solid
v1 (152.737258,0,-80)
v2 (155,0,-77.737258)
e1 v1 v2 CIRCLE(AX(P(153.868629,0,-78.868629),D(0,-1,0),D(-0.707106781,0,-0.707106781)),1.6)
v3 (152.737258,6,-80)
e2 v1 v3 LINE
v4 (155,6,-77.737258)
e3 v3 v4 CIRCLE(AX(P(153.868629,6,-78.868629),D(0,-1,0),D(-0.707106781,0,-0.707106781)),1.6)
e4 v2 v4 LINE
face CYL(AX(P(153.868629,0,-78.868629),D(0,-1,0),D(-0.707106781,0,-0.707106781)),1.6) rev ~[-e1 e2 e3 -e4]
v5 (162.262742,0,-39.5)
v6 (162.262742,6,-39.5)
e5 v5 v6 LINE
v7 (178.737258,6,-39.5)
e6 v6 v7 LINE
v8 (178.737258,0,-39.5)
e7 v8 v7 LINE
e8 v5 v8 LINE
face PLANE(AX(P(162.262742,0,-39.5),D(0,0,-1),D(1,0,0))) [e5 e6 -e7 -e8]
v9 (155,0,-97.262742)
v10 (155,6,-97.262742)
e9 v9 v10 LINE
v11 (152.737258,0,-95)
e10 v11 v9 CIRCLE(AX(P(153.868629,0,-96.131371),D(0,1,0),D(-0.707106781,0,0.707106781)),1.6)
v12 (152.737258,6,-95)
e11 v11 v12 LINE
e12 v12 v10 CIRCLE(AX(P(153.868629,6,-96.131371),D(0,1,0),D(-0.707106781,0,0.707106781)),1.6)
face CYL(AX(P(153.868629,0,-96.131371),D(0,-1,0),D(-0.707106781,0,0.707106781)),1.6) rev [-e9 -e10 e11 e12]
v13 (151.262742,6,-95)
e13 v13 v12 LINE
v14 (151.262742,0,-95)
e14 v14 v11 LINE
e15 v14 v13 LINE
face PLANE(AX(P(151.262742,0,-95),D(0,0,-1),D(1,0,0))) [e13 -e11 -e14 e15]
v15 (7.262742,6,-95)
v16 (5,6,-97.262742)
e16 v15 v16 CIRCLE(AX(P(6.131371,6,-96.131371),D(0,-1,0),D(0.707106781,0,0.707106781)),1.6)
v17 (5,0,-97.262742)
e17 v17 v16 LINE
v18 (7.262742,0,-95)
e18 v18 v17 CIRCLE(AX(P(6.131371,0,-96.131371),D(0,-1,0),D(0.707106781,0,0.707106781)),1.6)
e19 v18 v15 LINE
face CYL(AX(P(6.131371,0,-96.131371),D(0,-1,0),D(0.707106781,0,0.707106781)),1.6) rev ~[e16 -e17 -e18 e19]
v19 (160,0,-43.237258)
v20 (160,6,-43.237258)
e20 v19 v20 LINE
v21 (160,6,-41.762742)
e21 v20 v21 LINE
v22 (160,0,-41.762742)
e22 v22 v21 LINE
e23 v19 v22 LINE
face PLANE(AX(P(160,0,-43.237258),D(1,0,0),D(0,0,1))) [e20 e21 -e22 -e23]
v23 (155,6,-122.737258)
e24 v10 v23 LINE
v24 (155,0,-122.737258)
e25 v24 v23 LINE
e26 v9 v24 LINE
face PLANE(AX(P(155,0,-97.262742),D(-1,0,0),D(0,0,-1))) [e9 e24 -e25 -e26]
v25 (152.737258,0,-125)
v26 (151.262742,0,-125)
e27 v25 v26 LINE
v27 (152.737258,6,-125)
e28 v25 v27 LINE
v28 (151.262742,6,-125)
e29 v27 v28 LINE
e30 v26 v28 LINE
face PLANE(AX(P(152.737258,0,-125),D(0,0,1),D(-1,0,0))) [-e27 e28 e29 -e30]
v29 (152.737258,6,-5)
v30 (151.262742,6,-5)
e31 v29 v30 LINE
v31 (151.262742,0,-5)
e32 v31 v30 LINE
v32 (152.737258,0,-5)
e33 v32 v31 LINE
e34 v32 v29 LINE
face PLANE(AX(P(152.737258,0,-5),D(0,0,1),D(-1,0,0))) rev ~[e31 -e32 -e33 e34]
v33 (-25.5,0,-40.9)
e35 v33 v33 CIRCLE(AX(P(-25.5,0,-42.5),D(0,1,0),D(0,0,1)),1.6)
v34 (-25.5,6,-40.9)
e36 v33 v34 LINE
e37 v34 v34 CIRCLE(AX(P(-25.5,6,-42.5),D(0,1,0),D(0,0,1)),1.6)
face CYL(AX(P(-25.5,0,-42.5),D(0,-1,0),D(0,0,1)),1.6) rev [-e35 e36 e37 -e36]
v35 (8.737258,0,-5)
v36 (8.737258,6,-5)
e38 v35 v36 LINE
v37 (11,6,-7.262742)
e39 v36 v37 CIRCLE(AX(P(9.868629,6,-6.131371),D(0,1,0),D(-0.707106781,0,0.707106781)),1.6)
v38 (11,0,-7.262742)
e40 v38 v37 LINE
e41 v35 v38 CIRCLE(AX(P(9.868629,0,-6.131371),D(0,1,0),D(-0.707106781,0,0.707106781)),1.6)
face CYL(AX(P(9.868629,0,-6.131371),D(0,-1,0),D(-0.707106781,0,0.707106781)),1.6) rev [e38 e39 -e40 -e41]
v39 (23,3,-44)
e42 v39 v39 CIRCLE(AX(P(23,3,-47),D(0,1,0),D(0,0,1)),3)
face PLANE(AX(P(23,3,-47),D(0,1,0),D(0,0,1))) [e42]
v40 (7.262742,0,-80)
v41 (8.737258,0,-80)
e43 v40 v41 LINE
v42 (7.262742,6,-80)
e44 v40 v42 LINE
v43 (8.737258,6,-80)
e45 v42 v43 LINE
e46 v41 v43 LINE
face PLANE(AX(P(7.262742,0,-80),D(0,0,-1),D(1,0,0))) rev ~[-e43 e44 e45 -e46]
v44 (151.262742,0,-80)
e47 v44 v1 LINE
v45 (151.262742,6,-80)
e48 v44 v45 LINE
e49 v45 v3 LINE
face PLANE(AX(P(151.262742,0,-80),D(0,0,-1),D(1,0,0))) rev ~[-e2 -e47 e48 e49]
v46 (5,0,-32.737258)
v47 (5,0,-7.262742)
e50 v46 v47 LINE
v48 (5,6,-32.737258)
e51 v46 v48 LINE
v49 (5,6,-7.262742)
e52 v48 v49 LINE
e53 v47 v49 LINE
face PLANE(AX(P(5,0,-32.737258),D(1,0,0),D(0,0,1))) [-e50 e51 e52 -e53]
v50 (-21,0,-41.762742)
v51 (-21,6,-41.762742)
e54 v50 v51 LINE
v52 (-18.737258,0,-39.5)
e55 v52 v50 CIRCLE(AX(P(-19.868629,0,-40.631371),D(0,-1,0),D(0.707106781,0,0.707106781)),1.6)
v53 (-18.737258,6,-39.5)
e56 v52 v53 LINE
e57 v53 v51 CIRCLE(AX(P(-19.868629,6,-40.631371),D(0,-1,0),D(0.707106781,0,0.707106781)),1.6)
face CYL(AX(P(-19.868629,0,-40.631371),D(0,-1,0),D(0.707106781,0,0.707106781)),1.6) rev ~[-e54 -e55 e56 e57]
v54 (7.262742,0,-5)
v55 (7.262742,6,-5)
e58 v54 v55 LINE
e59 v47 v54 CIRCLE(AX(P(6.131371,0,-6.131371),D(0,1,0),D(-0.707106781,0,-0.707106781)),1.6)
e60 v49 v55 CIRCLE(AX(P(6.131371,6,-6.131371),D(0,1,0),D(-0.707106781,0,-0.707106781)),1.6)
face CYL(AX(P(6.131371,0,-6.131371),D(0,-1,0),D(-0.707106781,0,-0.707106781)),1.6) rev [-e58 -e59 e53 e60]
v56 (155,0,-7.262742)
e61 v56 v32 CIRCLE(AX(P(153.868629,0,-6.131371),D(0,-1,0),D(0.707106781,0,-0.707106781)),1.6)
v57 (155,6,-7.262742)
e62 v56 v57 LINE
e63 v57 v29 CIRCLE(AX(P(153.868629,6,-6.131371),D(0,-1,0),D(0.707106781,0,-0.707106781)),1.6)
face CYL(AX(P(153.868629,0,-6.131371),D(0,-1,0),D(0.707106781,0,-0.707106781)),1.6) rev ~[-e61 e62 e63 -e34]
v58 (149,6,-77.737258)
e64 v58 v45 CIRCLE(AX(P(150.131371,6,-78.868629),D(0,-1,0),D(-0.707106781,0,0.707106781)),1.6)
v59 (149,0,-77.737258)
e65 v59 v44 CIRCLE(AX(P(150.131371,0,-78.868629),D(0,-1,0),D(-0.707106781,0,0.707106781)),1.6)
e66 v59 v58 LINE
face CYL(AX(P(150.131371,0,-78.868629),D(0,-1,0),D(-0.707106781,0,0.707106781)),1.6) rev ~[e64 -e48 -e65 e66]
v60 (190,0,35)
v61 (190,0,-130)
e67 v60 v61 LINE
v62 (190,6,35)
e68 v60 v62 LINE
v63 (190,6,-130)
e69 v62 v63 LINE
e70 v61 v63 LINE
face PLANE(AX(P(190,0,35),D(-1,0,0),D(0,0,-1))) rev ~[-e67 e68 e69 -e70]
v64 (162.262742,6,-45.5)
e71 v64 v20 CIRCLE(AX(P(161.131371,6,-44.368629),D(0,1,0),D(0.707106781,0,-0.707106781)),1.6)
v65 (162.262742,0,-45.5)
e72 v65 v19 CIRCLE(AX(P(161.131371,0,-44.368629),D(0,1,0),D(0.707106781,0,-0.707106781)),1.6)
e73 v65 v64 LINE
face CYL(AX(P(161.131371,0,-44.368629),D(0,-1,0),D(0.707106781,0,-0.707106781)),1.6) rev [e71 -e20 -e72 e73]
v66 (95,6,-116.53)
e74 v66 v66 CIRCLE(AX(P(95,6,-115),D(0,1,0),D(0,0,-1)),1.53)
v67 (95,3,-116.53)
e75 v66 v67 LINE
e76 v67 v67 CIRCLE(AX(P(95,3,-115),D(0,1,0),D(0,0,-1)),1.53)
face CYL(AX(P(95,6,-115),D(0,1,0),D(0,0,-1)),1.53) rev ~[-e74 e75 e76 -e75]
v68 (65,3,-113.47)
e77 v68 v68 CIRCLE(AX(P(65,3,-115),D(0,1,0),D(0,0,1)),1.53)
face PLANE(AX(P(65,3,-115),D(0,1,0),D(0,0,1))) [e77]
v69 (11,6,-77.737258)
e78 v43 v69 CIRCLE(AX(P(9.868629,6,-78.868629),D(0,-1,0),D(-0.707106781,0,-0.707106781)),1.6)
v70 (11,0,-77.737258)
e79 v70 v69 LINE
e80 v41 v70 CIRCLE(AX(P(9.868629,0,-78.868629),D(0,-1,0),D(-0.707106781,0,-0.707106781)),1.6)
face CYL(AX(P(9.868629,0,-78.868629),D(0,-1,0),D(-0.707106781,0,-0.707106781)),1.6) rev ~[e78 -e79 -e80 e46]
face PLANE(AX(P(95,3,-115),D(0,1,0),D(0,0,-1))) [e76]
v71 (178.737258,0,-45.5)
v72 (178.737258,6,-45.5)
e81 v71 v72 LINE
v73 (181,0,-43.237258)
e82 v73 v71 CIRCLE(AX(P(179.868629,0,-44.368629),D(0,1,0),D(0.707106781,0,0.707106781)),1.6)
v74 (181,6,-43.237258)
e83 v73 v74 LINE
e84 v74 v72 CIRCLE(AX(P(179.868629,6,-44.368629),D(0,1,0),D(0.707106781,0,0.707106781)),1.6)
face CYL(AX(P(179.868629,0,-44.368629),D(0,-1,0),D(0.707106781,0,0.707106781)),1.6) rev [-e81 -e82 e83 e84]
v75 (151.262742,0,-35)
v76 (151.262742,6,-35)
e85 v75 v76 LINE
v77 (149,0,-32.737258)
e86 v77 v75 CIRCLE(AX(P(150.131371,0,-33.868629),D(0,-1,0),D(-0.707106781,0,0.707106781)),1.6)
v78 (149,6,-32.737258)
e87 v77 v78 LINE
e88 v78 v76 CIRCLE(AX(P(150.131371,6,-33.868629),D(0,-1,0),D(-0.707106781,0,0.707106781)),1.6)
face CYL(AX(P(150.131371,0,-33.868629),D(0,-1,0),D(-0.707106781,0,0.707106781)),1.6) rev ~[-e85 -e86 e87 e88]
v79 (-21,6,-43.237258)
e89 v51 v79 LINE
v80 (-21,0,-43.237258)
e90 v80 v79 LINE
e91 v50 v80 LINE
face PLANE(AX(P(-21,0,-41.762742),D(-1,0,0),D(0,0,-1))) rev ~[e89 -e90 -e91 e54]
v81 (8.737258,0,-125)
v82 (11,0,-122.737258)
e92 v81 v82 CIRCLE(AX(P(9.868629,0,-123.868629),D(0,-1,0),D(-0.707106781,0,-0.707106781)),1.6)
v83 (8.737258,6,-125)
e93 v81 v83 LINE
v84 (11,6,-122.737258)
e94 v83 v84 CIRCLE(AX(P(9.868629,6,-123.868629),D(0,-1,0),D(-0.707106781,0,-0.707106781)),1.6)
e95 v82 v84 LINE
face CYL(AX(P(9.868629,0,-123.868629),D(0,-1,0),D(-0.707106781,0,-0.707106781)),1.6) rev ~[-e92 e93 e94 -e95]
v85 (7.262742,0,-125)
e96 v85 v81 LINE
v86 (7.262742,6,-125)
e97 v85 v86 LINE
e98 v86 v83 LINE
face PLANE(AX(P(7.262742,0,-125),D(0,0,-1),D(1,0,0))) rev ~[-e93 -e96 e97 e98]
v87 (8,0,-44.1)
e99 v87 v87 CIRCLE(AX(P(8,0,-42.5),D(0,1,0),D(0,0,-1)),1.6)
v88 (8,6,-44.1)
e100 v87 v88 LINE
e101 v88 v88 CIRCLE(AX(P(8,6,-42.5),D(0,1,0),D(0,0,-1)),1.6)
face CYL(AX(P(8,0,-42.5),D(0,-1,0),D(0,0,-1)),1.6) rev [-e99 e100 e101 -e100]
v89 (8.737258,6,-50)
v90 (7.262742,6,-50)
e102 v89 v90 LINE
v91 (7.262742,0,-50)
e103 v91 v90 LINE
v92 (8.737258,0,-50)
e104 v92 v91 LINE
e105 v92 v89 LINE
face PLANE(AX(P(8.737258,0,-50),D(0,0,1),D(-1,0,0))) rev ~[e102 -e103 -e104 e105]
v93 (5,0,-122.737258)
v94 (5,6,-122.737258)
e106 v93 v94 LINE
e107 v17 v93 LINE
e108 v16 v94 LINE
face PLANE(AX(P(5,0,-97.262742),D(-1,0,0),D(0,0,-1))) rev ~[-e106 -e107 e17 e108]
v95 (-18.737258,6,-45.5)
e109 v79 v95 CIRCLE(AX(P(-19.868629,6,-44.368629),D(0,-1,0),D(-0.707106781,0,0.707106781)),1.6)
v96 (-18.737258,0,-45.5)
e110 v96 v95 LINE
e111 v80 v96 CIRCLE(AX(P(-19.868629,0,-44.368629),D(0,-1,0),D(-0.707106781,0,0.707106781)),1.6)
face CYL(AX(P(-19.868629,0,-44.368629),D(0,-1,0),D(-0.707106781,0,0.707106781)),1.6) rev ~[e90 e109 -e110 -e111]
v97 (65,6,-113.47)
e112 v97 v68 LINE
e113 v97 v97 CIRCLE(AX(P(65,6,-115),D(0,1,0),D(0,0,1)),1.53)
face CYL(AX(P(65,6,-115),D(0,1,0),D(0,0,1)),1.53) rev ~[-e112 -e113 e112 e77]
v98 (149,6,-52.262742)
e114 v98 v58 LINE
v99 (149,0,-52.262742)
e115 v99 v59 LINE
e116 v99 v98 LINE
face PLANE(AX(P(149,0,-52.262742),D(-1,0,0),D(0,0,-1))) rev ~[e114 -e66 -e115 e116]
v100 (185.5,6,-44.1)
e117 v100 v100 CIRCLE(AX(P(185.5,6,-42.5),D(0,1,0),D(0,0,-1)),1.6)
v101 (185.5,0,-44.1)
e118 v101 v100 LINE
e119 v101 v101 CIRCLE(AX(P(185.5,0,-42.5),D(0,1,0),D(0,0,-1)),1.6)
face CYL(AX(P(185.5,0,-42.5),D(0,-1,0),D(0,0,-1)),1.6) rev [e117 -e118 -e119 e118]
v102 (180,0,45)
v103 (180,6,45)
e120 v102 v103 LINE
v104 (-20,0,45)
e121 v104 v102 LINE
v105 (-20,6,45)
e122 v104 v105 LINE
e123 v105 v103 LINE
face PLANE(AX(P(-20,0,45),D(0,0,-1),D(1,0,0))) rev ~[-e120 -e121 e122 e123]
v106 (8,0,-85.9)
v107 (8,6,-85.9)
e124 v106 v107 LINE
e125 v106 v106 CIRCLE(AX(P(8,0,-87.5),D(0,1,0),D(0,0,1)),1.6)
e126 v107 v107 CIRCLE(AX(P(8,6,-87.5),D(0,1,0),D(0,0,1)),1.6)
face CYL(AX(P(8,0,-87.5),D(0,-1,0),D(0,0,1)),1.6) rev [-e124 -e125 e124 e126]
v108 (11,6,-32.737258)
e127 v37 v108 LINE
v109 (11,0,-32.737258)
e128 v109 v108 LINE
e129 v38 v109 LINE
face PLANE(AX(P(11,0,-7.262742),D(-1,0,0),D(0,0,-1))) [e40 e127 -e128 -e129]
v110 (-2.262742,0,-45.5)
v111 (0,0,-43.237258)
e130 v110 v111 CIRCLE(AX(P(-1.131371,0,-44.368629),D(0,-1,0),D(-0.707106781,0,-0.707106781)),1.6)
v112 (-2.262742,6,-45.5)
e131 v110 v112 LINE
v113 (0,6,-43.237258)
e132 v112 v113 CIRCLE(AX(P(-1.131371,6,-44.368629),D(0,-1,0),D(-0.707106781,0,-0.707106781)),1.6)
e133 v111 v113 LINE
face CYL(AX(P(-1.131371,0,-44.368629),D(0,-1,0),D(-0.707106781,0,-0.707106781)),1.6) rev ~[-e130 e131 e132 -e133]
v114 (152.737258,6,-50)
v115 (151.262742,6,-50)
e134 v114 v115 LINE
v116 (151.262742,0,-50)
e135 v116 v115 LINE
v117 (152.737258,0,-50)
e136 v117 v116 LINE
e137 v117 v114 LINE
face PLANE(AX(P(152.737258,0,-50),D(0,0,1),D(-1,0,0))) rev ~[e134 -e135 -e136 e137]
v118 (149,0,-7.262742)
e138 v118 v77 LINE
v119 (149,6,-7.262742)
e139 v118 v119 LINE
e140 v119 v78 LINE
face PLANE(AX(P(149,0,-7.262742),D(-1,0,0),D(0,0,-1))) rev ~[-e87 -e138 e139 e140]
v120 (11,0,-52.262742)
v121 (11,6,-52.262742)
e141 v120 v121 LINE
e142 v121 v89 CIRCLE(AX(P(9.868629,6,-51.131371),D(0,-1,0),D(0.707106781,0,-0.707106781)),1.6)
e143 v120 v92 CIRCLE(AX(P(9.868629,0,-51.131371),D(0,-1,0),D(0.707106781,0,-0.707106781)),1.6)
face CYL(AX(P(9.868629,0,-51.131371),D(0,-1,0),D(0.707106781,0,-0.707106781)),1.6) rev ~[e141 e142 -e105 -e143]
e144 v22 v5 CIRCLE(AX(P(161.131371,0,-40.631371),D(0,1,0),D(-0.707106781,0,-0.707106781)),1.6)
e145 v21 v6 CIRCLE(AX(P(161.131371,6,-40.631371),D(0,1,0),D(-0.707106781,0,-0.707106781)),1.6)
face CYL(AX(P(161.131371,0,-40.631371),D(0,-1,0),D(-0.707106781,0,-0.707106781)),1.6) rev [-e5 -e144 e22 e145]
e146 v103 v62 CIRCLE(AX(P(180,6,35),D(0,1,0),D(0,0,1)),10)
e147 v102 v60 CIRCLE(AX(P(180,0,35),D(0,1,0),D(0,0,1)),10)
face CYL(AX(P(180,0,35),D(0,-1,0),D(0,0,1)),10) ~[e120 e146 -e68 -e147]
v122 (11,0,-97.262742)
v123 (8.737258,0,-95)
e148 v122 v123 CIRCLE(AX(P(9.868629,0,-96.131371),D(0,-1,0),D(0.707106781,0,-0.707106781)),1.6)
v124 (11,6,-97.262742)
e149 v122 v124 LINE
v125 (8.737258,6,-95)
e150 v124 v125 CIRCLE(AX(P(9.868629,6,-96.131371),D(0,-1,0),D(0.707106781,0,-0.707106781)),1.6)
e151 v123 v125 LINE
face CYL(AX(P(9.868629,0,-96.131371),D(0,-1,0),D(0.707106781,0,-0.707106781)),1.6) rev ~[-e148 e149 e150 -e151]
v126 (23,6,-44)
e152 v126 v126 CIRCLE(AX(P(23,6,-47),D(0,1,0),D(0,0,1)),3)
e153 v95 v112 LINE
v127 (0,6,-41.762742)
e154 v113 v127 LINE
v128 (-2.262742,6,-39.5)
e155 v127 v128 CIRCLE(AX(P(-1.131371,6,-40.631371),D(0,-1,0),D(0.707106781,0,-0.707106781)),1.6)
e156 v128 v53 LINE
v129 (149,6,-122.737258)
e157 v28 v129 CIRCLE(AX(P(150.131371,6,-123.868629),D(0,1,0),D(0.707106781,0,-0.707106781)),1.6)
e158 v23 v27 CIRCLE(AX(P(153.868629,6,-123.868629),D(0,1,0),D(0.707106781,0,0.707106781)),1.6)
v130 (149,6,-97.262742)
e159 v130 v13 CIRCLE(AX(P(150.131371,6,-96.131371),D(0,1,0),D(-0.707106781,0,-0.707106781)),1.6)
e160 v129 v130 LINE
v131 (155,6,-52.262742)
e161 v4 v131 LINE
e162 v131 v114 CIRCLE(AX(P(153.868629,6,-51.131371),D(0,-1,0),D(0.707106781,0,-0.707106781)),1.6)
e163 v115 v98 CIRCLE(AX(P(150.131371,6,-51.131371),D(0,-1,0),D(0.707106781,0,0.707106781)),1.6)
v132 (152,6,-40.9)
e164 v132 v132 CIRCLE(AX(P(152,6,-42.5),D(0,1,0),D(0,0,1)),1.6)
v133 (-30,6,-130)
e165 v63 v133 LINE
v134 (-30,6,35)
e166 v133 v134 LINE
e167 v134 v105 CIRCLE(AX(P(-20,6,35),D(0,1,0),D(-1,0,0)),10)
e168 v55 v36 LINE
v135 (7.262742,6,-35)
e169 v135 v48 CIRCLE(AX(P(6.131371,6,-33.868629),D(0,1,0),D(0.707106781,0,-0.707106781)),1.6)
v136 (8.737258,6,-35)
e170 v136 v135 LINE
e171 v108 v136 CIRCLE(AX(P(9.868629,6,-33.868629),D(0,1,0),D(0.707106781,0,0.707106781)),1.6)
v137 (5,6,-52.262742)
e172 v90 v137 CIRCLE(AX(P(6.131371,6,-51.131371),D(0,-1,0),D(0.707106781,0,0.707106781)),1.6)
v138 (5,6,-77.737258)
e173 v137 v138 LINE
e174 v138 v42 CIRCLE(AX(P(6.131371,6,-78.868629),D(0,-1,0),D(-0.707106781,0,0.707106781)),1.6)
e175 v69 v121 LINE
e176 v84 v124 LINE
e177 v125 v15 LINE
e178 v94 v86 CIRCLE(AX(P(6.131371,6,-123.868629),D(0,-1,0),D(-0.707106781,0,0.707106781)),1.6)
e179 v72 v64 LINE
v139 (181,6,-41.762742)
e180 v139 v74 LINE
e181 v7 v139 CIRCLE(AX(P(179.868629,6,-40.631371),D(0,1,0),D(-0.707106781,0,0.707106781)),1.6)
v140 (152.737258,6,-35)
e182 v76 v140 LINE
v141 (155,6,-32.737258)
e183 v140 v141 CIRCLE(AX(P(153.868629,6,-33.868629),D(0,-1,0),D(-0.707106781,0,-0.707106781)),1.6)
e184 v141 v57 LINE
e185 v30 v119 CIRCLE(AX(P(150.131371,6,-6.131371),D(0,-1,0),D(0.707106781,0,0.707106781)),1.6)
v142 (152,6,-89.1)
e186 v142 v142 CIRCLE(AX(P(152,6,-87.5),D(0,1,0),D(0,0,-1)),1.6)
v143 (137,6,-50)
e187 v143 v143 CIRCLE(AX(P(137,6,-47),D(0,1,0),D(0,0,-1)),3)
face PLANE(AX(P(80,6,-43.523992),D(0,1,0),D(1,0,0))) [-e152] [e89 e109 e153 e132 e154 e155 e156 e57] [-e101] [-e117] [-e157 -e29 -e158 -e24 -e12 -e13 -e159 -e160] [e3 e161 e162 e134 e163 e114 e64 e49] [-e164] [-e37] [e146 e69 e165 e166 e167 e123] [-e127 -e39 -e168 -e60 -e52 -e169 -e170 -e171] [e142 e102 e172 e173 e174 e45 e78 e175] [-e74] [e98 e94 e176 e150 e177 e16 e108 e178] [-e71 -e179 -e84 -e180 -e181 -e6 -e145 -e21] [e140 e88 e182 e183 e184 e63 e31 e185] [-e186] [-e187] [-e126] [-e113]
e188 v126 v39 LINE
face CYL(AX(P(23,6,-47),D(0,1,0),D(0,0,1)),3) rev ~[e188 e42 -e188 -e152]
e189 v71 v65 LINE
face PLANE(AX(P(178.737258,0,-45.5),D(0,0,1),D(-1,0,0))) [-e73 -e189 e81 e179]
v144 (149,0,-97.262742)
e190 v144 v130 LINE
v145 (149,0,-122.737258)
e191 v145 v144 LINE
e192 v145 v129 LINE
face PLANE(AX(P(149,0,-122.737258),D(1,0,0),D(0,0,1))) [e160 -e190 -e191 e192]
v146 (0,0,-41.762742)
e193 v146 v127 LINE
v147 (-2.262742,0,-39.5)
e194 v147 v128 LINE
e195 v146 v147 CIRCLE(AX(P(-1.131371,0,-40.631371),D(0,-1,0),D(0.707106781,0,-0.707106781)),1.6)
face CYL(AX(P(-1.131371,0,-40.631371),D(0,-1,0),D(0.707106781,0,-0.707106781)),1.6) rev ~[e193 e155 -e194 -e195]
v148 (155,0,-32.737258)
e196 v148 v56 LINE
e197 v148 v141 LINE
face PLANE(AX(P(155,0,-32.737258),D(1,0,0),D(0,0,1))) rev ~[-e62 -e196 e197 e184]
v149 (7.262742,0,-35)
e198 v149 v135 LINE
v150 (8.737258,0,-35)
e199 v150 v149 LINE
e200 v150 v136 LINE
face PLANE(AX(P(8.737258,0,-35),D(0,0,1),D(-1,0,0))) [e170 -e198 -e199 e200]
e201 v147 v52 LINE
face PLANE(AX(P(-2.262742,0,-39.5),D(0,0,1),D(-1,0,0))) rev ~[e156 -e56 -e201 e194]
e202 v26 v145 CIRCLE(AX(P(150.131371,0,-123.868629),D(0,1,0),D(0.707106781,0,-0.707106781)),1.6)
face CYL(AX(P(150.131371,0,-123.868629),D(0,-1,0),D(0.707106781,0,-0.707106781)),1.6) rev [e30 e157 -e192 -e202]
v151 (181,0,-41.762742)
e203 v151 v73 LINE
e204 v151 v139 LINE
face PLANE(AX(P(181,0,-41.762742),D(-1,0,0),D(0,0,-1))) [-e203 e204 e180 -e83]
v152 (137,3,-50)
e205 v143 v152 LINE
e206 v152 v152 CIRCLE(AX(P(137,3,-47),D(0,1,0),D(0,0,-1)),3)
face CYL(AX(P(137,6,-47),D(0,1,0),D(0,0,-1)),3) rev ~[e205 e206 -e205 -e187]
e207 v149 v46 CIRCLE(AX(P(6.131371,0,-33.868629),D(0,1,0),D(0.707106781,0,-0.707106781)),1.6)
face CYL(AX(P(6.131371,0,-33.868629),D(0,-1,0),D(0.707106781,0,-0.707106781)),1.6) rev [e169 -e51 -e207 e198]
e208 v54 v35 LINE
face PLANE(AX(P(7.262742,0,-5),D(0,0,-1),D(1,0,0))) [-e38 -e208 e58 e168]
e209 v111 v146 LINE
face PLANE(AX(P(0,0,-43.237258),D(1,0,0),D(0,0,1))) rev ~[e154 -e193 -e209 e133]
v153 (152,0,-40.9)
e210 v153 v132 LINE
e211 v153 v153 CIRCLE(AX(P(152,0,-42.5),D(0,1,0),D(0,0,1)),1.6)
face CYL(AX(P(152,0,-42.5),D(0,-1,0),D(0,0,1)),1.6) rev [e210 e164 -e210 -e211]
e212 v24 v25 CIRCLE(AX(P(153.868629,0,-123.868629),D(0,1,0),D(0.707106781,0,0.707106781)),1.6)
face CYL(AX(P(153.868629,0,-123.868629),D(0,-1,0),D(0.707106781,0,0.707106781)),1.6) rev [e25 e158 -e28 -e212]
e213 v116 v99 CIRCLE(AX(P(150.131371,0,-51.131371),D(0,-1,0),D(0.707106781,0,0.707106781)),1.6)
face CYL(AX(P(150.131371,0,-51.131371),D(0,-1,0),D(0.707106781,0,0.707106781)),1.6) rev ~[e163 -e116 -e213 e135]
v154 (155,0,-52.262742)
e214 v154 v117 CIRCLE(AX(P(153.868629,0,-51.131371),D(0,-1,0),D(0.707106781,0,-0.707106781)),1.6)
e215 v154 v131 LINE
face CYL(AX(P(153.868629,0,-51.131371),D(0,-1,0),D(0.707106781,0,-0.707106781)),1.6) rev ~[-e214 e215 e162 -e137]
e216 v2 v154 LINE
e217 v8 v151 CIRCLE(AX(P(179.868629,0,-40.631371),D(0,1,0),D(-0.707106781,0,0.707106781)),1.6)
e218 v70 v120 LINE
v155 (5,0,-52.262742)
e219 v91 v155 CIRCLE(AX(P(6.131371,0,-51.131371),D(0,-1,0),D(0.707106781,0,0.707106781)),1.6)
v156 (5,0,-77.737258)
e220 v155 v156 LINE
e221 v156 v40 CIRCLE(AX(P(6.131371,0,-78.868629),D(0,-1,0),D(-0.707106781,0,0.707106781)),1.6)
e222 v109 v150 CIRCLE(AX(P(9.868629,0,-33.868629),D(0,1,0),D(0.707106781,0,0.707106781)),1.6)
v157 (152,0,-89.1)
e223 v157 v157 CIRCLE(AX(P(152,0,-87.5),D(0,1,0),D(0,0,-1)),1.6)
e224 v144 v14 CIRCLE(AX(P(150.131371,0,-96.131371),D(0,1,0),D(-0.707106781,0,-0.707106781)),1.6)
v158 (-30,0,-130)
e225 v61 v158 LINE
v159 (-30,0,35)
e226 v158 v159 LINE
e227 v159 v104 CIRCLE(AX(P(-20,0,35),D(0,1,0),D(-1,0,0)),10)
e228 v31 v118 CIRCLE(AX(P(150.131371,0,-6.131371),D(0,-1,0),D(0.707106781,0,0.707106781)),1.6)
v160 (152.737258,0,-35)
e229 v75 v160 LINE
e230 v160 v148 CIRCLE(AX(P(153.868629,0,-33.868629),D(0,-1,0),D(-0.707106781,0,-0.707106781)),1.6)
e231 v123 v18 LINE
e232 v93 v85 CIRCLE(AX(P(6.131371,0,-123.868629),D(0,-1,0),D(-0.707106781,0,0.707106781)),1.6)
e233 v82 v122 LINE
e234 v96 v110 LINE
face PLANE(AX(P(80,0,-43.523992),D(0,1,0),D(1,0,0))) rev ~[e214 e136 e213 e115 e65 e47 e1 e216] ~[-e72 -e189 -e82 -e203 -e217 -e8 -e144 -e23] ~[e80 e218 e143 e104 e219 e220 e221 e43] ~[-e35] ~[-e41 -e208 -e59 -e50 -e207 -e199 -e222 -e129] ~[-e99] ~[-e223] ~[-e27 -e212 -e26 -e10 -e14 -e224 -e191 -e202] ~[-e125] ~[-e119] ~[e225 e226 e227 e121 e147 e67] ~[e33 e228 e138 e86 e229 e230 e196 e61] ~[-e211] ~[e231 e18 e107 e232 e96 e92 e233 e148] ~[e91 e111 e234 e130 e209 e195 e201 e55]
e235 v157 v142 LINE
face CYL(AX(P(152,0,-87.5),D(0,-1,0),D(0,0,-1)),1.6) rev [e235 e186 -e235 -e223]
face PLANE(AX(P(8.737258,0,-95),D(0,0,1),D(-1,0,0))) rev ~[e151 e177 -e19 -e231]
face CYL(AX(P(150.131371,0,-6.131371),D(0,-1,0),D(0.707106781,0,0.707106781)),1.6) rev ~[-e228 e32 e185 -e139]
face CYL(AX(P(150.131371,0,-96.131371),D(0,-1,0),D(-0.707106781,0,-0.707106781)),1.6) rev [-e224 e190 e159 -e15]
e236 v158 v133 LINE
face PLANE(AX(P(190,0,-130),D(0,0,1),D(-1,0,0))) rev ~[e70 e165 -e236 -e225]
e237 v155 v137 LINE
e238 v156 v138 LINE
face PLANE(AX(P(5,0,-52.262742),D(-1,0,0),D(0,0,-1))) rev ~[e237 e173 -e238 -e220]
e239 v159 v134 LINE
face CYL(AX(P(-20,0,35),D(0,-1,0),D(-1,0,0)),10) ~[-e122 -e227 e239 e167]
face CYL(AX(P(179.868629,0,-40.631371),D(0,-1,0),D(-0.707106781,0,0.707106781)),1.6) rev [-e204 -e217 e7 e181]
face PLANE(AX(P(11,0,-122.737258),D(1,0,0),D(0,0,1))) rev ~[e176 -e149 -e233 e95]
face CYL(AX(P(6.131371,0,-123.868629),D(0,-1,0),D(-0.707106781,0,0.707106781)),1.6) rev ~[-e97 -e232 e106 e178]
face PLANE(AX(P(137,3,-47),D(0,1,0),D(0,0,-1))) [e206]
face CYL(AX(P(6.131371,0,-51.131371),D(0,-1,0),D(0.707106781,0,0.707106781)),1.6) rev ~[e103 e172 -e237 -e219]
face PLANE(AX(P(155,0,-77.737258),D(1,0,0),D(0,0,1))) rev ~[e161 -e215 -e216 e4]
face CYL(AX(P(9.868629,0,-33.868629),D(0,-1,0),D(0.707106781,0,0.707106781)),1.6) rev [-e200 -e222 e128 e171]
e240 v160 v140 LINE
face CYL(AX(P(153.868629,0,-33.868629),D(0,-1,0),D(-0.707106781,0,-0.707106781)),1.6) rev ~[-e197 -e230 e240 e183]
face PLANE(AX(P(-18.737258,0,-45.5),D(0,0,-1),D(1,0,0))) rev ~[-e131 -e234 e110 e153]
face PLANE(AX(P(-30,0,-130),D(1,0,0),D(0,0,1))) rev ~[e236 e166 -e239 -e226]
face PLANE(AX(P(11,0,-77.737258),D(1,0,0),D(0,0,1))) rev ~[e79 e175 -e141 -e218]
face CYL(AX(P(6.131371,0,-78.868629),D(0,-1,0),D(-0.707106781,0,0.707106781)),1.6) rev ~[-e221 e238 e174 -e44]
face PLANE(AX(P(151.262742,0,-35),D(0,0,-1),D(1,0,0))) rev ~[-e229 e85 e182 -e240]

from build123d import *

# Parameters (mm, degrees)
ESQUISSE2_R             = 1.6
EXTRUSION1_DEPTH        = 6
ESQUISSE4_R             = 1.53
ESQUISSE4_R_2           = 3
ENL_V_MAT_EXTRU_1_DEPTH = 3


with BuildPart() as part:
    # Esquisse2 → Extrusion1 (new body)
    with BuildSketch(Plane(origin=(0, 0, 0), x_dir=(1, 0, 0), z_dir=(0, 1, 0))):
        with BuildLine():
            Line((-20, -45), (180, -45))
            ThreePointArc((180, -45), (187.071067812, -42.071067812), (190, -35))
            Line((190, -35), (190, 130))
            Line((190, 130), (-30, 130))
            Line((-30, 130), (-30, -35))
            ThreePointArc((-30, -35), (-27.071067812, -42.071067812), (-20, -45))
        make_face()
        with Locations(Location((8, 87.5, 0), (0, 0, 270))):  # turned: the seam where the file's is
            Circle(ESQUISSE2_R, mode=Mode.SUBTRACT)
        with Locations(Location((8, 42.5, 0), (0, 0, 90))):  # turned: the seam where the file's is
            Circle(ESQUISSE2_R, mode=Mode.SUBTRACT)
        with Locations(Location((152, 42.5, 0), (0, 0, 270))):  # turned: the seam where the file's is
            Circle(ESQUISSE2_R, mode=Mode.SUBTRACT)
        with Locations(Location((152, 87.5, 0), (0, 0, 90))):  # turned: the seam where the file's is
            Circle(ESQUISSE2_R, mode=Mode.SUBTRACT)
        with Locations(Location((-25.5, 42.5, 0), (0, 0, 270))):  # turned: the seam where the file's is
            Circle(ESQUISSE2_R, mode=Mode.SUBTRACT)
        with Locations(Location((185.5, 42.5, 0), (0, 0, 90))):  # turned: the seam where the file's is
            Circle(ESQUISSE2_R, mode=Mode.SUBTRACT)
        with BuildLine():
            Line((7.2627417, 125), (8.7372583, 125))
            ThreePointArc((8.7372583, 125), (11, 125), (11, 122.7372583))
            Line((11, 122.7372583), (11, 97.2627417))
            ThreePointArc((11, 97.2627417), (11, 95), (8.7372583, 95))
            Line((8.7372583, 95), (7.2627417, 95))
            ThreePointArc((7.2627417, 95), (5, 95), (5, 97.2627417))
            Line((5, 97.2627417), (5, 122.7372583))
            ThreePointArc((5, 122.7372583), (5, 125), (7.2627417, 125))
        make_face(mode=Mode.SUBTRACT)
        with BuildLine():
            Line((7.2627417, 80), (8.7372583, 80))
            ThreePointArc((8.7372583, 80), (11, 80), (11, 77.7372583))
            Line((11, 77.7372583), (11, 52.2627417))
            ThreePointArc((11, 52.2627417), (11, 50), (8.7372583, 50))
            Line((8.7372583, 50), (7.2627417, 50))
            ThreePointArc((7.2627417, 50), (5, 50), (5, 52.2627417))
            Line((5, 52.2627417), (5, 77.7372583))
            ThreePointArc((5, 77.7372583), (5, 80), (7.2627417, 80))
        make_face(mode=Mode.SUBTRACT)
        with BuildLine():
            Line((8.7372583, 35), (7.2627417, 35))
            ThreePointArc((7.2627417, 35), (5, 35), (5, 32.7372583))
            Line((5, 32.7372583), (5, 7.2627417))
            ThreePointArc((5, 7.2627417), (5, 5), (7.2627417, 5))
            Line((7.2627417, 5), (8.7372583, 5))
            ThreePointArc((8.7372583, 5), (11, 5), (11, 7.2627417))
            Line((11, 7.2627417), (11, 32.7372583))
            ThreePointArc((11, 32.7372583), (11, 35), (8.7372583, 35))
        make_face(mode=Mode.SUBTRACT)
        with BuildLine():
            Line((152.7372583, 5), (151.2627417, 5))
            ThreePointArc((151.2627417, 5), (149, 5), (149, 7.2627417))
            Line((149, 7.2627417), (149, 32.7372583))
            ThreePointArc((149, 32.7372583), (149, 35), (151.2627417, 35))
            Line((151.2627417, 35), (152.7372583, 35))
            ThreePointArc((152.7372583, 35), (155, 35), (155, 32.7372583))
            Line((155, 32.7372583), (155, 7.2627417))
            ThreePointArc((155, 7.2627417), (155, 5), (152.7372583, 5))
        make_face(mode=Mode.SUBTRACT)
        with BuildLine():
            Line((155, 77.7372583), (155, 52.2627417))
            ThreePointArc((155, 52.2627417), (155, 50), (152.7372583, 50))
            Line((152.7372583, 50), (151.2627417, 50))
            ThreePointArc((151.2627417, 50), (149, 50), (149, 52.2627417))
            Line((149, 52.2627417), (149, 77.7372583))
            ThreePointArc((149, 77.7372583), (149, 80), (151.2627417, 80))
            Line((151.2627417, 80), (152.7372583, 80))
            ThreePointArc((152.7372583, 80), (155, 80), (155, 77.7372583))
        make_face(mode=Mode.SUBTRACT)
        with BuildLine():
            Line((151.2627417, 95), (152.7372583, 95))
            ThreePointArc((152.7372583, 95), (155, 95), (155, 97.2627417))
            Line((155, 97.2627417), (155, 122.7372583))
            ThreePointArc((155, 122.7372583), (155, 125), (152.7372583, 125))
            Line((152.7372583, 125), (151.2627417, 125))
            ThreePointArc((151.2627417, 125), (149, 125), (149, 122.7372583))
            Line((149, 122.7372583), (149, 97.2627417))
            ThreePointArc((149, 97.2627417), (149, 95), (151.2627417, 95))
        make_face(mode=Mode.SUBTRACT)
        with BuildLine():
            Line((181, 41.7627417), (181, 43.2372583))
            ThreePointArc((181, 43.2372583), (181, 45.5), (178.7372583, 45.5))
            Line((178.7372583, 45.5), (162.2627417, 45.5))
            ThreePointArc((162.2627417, 45.5), (160, 45.5), (160, 43.2372583))
            Line((160, 43.2372583), (160, 41.7627417))
            ThreePointArc((160, 41.7627417), (160, 39.5), (162.2627417, 39.5))
            Line((162.2627417, 39.5), (178.7372583, 39.5))
            ThreePointArc((178.7372583, 39.5), (181, 39.5), (181, 41.7627417))
        make_face(mode=Mode.SUBTRACT)
        with BuildLine():
            Line((-2.2627417, 39.5), (-18.7372583, 39.5))
            ThreePointArc((-18.7372583, 39.5), (-21, 39.5), (-21, 41.7627417))
            Line((-21, 41.7627417), (-21, 43.2372583))
            ThreePointArc((-21, 43.2372583), (-21, 45.5), (-18.7372583, 45.5))
            Line((-18.7372583, 45.5), (-2.2627417, 45.5))
            ThreePointArc((-2.2627417, 45.5), (0, 45.5), (0, 43.2372583))
            Line((0, 43.2372583), (0, 41.7627417))
            ThreePointArc((0, 41.7627417), (0, 39.5), (-2.2627417, 39.5))
        make_face(mode=Mode.SUBTRACT)
    extrude(amount=EXTRUSION1_DEPTH)

    # Esquisse4 → Enlèv. mat.-Extru.1 (cut)
    with BuildSketch(Plane(origin=(0, 6, 0), x_dir=(-1, 0, 0), z_dir=(0, 1, 0))):
        with Locations(Location((-65, -115, 0), (0, 0, 90))):  # turned: the seam where the file's is
            Circle(ESQUISSE4_R)
        with Locations(Location((-23, -47, 0), (0, 0, 90))):  # turned: the seam where the file's is
            Circle(ESQUISSE4_R_2)
        with Locations(Location((-95, -115, 0), (0, 0, 270))):  # turned: the seam where the file's is
            Circle(ESQUISSE4_R)
        with Locations(Location((-137, -47, 0), (0, 0, 270))):  # turned: the seam where the file's is
            Circle(ESQUISSE4_R_2)
    extrude(amount=-ENL_V_MAT_EXTRU_1_DEPTH, mode=Mode.SUBTRACT)


solid = part.part
